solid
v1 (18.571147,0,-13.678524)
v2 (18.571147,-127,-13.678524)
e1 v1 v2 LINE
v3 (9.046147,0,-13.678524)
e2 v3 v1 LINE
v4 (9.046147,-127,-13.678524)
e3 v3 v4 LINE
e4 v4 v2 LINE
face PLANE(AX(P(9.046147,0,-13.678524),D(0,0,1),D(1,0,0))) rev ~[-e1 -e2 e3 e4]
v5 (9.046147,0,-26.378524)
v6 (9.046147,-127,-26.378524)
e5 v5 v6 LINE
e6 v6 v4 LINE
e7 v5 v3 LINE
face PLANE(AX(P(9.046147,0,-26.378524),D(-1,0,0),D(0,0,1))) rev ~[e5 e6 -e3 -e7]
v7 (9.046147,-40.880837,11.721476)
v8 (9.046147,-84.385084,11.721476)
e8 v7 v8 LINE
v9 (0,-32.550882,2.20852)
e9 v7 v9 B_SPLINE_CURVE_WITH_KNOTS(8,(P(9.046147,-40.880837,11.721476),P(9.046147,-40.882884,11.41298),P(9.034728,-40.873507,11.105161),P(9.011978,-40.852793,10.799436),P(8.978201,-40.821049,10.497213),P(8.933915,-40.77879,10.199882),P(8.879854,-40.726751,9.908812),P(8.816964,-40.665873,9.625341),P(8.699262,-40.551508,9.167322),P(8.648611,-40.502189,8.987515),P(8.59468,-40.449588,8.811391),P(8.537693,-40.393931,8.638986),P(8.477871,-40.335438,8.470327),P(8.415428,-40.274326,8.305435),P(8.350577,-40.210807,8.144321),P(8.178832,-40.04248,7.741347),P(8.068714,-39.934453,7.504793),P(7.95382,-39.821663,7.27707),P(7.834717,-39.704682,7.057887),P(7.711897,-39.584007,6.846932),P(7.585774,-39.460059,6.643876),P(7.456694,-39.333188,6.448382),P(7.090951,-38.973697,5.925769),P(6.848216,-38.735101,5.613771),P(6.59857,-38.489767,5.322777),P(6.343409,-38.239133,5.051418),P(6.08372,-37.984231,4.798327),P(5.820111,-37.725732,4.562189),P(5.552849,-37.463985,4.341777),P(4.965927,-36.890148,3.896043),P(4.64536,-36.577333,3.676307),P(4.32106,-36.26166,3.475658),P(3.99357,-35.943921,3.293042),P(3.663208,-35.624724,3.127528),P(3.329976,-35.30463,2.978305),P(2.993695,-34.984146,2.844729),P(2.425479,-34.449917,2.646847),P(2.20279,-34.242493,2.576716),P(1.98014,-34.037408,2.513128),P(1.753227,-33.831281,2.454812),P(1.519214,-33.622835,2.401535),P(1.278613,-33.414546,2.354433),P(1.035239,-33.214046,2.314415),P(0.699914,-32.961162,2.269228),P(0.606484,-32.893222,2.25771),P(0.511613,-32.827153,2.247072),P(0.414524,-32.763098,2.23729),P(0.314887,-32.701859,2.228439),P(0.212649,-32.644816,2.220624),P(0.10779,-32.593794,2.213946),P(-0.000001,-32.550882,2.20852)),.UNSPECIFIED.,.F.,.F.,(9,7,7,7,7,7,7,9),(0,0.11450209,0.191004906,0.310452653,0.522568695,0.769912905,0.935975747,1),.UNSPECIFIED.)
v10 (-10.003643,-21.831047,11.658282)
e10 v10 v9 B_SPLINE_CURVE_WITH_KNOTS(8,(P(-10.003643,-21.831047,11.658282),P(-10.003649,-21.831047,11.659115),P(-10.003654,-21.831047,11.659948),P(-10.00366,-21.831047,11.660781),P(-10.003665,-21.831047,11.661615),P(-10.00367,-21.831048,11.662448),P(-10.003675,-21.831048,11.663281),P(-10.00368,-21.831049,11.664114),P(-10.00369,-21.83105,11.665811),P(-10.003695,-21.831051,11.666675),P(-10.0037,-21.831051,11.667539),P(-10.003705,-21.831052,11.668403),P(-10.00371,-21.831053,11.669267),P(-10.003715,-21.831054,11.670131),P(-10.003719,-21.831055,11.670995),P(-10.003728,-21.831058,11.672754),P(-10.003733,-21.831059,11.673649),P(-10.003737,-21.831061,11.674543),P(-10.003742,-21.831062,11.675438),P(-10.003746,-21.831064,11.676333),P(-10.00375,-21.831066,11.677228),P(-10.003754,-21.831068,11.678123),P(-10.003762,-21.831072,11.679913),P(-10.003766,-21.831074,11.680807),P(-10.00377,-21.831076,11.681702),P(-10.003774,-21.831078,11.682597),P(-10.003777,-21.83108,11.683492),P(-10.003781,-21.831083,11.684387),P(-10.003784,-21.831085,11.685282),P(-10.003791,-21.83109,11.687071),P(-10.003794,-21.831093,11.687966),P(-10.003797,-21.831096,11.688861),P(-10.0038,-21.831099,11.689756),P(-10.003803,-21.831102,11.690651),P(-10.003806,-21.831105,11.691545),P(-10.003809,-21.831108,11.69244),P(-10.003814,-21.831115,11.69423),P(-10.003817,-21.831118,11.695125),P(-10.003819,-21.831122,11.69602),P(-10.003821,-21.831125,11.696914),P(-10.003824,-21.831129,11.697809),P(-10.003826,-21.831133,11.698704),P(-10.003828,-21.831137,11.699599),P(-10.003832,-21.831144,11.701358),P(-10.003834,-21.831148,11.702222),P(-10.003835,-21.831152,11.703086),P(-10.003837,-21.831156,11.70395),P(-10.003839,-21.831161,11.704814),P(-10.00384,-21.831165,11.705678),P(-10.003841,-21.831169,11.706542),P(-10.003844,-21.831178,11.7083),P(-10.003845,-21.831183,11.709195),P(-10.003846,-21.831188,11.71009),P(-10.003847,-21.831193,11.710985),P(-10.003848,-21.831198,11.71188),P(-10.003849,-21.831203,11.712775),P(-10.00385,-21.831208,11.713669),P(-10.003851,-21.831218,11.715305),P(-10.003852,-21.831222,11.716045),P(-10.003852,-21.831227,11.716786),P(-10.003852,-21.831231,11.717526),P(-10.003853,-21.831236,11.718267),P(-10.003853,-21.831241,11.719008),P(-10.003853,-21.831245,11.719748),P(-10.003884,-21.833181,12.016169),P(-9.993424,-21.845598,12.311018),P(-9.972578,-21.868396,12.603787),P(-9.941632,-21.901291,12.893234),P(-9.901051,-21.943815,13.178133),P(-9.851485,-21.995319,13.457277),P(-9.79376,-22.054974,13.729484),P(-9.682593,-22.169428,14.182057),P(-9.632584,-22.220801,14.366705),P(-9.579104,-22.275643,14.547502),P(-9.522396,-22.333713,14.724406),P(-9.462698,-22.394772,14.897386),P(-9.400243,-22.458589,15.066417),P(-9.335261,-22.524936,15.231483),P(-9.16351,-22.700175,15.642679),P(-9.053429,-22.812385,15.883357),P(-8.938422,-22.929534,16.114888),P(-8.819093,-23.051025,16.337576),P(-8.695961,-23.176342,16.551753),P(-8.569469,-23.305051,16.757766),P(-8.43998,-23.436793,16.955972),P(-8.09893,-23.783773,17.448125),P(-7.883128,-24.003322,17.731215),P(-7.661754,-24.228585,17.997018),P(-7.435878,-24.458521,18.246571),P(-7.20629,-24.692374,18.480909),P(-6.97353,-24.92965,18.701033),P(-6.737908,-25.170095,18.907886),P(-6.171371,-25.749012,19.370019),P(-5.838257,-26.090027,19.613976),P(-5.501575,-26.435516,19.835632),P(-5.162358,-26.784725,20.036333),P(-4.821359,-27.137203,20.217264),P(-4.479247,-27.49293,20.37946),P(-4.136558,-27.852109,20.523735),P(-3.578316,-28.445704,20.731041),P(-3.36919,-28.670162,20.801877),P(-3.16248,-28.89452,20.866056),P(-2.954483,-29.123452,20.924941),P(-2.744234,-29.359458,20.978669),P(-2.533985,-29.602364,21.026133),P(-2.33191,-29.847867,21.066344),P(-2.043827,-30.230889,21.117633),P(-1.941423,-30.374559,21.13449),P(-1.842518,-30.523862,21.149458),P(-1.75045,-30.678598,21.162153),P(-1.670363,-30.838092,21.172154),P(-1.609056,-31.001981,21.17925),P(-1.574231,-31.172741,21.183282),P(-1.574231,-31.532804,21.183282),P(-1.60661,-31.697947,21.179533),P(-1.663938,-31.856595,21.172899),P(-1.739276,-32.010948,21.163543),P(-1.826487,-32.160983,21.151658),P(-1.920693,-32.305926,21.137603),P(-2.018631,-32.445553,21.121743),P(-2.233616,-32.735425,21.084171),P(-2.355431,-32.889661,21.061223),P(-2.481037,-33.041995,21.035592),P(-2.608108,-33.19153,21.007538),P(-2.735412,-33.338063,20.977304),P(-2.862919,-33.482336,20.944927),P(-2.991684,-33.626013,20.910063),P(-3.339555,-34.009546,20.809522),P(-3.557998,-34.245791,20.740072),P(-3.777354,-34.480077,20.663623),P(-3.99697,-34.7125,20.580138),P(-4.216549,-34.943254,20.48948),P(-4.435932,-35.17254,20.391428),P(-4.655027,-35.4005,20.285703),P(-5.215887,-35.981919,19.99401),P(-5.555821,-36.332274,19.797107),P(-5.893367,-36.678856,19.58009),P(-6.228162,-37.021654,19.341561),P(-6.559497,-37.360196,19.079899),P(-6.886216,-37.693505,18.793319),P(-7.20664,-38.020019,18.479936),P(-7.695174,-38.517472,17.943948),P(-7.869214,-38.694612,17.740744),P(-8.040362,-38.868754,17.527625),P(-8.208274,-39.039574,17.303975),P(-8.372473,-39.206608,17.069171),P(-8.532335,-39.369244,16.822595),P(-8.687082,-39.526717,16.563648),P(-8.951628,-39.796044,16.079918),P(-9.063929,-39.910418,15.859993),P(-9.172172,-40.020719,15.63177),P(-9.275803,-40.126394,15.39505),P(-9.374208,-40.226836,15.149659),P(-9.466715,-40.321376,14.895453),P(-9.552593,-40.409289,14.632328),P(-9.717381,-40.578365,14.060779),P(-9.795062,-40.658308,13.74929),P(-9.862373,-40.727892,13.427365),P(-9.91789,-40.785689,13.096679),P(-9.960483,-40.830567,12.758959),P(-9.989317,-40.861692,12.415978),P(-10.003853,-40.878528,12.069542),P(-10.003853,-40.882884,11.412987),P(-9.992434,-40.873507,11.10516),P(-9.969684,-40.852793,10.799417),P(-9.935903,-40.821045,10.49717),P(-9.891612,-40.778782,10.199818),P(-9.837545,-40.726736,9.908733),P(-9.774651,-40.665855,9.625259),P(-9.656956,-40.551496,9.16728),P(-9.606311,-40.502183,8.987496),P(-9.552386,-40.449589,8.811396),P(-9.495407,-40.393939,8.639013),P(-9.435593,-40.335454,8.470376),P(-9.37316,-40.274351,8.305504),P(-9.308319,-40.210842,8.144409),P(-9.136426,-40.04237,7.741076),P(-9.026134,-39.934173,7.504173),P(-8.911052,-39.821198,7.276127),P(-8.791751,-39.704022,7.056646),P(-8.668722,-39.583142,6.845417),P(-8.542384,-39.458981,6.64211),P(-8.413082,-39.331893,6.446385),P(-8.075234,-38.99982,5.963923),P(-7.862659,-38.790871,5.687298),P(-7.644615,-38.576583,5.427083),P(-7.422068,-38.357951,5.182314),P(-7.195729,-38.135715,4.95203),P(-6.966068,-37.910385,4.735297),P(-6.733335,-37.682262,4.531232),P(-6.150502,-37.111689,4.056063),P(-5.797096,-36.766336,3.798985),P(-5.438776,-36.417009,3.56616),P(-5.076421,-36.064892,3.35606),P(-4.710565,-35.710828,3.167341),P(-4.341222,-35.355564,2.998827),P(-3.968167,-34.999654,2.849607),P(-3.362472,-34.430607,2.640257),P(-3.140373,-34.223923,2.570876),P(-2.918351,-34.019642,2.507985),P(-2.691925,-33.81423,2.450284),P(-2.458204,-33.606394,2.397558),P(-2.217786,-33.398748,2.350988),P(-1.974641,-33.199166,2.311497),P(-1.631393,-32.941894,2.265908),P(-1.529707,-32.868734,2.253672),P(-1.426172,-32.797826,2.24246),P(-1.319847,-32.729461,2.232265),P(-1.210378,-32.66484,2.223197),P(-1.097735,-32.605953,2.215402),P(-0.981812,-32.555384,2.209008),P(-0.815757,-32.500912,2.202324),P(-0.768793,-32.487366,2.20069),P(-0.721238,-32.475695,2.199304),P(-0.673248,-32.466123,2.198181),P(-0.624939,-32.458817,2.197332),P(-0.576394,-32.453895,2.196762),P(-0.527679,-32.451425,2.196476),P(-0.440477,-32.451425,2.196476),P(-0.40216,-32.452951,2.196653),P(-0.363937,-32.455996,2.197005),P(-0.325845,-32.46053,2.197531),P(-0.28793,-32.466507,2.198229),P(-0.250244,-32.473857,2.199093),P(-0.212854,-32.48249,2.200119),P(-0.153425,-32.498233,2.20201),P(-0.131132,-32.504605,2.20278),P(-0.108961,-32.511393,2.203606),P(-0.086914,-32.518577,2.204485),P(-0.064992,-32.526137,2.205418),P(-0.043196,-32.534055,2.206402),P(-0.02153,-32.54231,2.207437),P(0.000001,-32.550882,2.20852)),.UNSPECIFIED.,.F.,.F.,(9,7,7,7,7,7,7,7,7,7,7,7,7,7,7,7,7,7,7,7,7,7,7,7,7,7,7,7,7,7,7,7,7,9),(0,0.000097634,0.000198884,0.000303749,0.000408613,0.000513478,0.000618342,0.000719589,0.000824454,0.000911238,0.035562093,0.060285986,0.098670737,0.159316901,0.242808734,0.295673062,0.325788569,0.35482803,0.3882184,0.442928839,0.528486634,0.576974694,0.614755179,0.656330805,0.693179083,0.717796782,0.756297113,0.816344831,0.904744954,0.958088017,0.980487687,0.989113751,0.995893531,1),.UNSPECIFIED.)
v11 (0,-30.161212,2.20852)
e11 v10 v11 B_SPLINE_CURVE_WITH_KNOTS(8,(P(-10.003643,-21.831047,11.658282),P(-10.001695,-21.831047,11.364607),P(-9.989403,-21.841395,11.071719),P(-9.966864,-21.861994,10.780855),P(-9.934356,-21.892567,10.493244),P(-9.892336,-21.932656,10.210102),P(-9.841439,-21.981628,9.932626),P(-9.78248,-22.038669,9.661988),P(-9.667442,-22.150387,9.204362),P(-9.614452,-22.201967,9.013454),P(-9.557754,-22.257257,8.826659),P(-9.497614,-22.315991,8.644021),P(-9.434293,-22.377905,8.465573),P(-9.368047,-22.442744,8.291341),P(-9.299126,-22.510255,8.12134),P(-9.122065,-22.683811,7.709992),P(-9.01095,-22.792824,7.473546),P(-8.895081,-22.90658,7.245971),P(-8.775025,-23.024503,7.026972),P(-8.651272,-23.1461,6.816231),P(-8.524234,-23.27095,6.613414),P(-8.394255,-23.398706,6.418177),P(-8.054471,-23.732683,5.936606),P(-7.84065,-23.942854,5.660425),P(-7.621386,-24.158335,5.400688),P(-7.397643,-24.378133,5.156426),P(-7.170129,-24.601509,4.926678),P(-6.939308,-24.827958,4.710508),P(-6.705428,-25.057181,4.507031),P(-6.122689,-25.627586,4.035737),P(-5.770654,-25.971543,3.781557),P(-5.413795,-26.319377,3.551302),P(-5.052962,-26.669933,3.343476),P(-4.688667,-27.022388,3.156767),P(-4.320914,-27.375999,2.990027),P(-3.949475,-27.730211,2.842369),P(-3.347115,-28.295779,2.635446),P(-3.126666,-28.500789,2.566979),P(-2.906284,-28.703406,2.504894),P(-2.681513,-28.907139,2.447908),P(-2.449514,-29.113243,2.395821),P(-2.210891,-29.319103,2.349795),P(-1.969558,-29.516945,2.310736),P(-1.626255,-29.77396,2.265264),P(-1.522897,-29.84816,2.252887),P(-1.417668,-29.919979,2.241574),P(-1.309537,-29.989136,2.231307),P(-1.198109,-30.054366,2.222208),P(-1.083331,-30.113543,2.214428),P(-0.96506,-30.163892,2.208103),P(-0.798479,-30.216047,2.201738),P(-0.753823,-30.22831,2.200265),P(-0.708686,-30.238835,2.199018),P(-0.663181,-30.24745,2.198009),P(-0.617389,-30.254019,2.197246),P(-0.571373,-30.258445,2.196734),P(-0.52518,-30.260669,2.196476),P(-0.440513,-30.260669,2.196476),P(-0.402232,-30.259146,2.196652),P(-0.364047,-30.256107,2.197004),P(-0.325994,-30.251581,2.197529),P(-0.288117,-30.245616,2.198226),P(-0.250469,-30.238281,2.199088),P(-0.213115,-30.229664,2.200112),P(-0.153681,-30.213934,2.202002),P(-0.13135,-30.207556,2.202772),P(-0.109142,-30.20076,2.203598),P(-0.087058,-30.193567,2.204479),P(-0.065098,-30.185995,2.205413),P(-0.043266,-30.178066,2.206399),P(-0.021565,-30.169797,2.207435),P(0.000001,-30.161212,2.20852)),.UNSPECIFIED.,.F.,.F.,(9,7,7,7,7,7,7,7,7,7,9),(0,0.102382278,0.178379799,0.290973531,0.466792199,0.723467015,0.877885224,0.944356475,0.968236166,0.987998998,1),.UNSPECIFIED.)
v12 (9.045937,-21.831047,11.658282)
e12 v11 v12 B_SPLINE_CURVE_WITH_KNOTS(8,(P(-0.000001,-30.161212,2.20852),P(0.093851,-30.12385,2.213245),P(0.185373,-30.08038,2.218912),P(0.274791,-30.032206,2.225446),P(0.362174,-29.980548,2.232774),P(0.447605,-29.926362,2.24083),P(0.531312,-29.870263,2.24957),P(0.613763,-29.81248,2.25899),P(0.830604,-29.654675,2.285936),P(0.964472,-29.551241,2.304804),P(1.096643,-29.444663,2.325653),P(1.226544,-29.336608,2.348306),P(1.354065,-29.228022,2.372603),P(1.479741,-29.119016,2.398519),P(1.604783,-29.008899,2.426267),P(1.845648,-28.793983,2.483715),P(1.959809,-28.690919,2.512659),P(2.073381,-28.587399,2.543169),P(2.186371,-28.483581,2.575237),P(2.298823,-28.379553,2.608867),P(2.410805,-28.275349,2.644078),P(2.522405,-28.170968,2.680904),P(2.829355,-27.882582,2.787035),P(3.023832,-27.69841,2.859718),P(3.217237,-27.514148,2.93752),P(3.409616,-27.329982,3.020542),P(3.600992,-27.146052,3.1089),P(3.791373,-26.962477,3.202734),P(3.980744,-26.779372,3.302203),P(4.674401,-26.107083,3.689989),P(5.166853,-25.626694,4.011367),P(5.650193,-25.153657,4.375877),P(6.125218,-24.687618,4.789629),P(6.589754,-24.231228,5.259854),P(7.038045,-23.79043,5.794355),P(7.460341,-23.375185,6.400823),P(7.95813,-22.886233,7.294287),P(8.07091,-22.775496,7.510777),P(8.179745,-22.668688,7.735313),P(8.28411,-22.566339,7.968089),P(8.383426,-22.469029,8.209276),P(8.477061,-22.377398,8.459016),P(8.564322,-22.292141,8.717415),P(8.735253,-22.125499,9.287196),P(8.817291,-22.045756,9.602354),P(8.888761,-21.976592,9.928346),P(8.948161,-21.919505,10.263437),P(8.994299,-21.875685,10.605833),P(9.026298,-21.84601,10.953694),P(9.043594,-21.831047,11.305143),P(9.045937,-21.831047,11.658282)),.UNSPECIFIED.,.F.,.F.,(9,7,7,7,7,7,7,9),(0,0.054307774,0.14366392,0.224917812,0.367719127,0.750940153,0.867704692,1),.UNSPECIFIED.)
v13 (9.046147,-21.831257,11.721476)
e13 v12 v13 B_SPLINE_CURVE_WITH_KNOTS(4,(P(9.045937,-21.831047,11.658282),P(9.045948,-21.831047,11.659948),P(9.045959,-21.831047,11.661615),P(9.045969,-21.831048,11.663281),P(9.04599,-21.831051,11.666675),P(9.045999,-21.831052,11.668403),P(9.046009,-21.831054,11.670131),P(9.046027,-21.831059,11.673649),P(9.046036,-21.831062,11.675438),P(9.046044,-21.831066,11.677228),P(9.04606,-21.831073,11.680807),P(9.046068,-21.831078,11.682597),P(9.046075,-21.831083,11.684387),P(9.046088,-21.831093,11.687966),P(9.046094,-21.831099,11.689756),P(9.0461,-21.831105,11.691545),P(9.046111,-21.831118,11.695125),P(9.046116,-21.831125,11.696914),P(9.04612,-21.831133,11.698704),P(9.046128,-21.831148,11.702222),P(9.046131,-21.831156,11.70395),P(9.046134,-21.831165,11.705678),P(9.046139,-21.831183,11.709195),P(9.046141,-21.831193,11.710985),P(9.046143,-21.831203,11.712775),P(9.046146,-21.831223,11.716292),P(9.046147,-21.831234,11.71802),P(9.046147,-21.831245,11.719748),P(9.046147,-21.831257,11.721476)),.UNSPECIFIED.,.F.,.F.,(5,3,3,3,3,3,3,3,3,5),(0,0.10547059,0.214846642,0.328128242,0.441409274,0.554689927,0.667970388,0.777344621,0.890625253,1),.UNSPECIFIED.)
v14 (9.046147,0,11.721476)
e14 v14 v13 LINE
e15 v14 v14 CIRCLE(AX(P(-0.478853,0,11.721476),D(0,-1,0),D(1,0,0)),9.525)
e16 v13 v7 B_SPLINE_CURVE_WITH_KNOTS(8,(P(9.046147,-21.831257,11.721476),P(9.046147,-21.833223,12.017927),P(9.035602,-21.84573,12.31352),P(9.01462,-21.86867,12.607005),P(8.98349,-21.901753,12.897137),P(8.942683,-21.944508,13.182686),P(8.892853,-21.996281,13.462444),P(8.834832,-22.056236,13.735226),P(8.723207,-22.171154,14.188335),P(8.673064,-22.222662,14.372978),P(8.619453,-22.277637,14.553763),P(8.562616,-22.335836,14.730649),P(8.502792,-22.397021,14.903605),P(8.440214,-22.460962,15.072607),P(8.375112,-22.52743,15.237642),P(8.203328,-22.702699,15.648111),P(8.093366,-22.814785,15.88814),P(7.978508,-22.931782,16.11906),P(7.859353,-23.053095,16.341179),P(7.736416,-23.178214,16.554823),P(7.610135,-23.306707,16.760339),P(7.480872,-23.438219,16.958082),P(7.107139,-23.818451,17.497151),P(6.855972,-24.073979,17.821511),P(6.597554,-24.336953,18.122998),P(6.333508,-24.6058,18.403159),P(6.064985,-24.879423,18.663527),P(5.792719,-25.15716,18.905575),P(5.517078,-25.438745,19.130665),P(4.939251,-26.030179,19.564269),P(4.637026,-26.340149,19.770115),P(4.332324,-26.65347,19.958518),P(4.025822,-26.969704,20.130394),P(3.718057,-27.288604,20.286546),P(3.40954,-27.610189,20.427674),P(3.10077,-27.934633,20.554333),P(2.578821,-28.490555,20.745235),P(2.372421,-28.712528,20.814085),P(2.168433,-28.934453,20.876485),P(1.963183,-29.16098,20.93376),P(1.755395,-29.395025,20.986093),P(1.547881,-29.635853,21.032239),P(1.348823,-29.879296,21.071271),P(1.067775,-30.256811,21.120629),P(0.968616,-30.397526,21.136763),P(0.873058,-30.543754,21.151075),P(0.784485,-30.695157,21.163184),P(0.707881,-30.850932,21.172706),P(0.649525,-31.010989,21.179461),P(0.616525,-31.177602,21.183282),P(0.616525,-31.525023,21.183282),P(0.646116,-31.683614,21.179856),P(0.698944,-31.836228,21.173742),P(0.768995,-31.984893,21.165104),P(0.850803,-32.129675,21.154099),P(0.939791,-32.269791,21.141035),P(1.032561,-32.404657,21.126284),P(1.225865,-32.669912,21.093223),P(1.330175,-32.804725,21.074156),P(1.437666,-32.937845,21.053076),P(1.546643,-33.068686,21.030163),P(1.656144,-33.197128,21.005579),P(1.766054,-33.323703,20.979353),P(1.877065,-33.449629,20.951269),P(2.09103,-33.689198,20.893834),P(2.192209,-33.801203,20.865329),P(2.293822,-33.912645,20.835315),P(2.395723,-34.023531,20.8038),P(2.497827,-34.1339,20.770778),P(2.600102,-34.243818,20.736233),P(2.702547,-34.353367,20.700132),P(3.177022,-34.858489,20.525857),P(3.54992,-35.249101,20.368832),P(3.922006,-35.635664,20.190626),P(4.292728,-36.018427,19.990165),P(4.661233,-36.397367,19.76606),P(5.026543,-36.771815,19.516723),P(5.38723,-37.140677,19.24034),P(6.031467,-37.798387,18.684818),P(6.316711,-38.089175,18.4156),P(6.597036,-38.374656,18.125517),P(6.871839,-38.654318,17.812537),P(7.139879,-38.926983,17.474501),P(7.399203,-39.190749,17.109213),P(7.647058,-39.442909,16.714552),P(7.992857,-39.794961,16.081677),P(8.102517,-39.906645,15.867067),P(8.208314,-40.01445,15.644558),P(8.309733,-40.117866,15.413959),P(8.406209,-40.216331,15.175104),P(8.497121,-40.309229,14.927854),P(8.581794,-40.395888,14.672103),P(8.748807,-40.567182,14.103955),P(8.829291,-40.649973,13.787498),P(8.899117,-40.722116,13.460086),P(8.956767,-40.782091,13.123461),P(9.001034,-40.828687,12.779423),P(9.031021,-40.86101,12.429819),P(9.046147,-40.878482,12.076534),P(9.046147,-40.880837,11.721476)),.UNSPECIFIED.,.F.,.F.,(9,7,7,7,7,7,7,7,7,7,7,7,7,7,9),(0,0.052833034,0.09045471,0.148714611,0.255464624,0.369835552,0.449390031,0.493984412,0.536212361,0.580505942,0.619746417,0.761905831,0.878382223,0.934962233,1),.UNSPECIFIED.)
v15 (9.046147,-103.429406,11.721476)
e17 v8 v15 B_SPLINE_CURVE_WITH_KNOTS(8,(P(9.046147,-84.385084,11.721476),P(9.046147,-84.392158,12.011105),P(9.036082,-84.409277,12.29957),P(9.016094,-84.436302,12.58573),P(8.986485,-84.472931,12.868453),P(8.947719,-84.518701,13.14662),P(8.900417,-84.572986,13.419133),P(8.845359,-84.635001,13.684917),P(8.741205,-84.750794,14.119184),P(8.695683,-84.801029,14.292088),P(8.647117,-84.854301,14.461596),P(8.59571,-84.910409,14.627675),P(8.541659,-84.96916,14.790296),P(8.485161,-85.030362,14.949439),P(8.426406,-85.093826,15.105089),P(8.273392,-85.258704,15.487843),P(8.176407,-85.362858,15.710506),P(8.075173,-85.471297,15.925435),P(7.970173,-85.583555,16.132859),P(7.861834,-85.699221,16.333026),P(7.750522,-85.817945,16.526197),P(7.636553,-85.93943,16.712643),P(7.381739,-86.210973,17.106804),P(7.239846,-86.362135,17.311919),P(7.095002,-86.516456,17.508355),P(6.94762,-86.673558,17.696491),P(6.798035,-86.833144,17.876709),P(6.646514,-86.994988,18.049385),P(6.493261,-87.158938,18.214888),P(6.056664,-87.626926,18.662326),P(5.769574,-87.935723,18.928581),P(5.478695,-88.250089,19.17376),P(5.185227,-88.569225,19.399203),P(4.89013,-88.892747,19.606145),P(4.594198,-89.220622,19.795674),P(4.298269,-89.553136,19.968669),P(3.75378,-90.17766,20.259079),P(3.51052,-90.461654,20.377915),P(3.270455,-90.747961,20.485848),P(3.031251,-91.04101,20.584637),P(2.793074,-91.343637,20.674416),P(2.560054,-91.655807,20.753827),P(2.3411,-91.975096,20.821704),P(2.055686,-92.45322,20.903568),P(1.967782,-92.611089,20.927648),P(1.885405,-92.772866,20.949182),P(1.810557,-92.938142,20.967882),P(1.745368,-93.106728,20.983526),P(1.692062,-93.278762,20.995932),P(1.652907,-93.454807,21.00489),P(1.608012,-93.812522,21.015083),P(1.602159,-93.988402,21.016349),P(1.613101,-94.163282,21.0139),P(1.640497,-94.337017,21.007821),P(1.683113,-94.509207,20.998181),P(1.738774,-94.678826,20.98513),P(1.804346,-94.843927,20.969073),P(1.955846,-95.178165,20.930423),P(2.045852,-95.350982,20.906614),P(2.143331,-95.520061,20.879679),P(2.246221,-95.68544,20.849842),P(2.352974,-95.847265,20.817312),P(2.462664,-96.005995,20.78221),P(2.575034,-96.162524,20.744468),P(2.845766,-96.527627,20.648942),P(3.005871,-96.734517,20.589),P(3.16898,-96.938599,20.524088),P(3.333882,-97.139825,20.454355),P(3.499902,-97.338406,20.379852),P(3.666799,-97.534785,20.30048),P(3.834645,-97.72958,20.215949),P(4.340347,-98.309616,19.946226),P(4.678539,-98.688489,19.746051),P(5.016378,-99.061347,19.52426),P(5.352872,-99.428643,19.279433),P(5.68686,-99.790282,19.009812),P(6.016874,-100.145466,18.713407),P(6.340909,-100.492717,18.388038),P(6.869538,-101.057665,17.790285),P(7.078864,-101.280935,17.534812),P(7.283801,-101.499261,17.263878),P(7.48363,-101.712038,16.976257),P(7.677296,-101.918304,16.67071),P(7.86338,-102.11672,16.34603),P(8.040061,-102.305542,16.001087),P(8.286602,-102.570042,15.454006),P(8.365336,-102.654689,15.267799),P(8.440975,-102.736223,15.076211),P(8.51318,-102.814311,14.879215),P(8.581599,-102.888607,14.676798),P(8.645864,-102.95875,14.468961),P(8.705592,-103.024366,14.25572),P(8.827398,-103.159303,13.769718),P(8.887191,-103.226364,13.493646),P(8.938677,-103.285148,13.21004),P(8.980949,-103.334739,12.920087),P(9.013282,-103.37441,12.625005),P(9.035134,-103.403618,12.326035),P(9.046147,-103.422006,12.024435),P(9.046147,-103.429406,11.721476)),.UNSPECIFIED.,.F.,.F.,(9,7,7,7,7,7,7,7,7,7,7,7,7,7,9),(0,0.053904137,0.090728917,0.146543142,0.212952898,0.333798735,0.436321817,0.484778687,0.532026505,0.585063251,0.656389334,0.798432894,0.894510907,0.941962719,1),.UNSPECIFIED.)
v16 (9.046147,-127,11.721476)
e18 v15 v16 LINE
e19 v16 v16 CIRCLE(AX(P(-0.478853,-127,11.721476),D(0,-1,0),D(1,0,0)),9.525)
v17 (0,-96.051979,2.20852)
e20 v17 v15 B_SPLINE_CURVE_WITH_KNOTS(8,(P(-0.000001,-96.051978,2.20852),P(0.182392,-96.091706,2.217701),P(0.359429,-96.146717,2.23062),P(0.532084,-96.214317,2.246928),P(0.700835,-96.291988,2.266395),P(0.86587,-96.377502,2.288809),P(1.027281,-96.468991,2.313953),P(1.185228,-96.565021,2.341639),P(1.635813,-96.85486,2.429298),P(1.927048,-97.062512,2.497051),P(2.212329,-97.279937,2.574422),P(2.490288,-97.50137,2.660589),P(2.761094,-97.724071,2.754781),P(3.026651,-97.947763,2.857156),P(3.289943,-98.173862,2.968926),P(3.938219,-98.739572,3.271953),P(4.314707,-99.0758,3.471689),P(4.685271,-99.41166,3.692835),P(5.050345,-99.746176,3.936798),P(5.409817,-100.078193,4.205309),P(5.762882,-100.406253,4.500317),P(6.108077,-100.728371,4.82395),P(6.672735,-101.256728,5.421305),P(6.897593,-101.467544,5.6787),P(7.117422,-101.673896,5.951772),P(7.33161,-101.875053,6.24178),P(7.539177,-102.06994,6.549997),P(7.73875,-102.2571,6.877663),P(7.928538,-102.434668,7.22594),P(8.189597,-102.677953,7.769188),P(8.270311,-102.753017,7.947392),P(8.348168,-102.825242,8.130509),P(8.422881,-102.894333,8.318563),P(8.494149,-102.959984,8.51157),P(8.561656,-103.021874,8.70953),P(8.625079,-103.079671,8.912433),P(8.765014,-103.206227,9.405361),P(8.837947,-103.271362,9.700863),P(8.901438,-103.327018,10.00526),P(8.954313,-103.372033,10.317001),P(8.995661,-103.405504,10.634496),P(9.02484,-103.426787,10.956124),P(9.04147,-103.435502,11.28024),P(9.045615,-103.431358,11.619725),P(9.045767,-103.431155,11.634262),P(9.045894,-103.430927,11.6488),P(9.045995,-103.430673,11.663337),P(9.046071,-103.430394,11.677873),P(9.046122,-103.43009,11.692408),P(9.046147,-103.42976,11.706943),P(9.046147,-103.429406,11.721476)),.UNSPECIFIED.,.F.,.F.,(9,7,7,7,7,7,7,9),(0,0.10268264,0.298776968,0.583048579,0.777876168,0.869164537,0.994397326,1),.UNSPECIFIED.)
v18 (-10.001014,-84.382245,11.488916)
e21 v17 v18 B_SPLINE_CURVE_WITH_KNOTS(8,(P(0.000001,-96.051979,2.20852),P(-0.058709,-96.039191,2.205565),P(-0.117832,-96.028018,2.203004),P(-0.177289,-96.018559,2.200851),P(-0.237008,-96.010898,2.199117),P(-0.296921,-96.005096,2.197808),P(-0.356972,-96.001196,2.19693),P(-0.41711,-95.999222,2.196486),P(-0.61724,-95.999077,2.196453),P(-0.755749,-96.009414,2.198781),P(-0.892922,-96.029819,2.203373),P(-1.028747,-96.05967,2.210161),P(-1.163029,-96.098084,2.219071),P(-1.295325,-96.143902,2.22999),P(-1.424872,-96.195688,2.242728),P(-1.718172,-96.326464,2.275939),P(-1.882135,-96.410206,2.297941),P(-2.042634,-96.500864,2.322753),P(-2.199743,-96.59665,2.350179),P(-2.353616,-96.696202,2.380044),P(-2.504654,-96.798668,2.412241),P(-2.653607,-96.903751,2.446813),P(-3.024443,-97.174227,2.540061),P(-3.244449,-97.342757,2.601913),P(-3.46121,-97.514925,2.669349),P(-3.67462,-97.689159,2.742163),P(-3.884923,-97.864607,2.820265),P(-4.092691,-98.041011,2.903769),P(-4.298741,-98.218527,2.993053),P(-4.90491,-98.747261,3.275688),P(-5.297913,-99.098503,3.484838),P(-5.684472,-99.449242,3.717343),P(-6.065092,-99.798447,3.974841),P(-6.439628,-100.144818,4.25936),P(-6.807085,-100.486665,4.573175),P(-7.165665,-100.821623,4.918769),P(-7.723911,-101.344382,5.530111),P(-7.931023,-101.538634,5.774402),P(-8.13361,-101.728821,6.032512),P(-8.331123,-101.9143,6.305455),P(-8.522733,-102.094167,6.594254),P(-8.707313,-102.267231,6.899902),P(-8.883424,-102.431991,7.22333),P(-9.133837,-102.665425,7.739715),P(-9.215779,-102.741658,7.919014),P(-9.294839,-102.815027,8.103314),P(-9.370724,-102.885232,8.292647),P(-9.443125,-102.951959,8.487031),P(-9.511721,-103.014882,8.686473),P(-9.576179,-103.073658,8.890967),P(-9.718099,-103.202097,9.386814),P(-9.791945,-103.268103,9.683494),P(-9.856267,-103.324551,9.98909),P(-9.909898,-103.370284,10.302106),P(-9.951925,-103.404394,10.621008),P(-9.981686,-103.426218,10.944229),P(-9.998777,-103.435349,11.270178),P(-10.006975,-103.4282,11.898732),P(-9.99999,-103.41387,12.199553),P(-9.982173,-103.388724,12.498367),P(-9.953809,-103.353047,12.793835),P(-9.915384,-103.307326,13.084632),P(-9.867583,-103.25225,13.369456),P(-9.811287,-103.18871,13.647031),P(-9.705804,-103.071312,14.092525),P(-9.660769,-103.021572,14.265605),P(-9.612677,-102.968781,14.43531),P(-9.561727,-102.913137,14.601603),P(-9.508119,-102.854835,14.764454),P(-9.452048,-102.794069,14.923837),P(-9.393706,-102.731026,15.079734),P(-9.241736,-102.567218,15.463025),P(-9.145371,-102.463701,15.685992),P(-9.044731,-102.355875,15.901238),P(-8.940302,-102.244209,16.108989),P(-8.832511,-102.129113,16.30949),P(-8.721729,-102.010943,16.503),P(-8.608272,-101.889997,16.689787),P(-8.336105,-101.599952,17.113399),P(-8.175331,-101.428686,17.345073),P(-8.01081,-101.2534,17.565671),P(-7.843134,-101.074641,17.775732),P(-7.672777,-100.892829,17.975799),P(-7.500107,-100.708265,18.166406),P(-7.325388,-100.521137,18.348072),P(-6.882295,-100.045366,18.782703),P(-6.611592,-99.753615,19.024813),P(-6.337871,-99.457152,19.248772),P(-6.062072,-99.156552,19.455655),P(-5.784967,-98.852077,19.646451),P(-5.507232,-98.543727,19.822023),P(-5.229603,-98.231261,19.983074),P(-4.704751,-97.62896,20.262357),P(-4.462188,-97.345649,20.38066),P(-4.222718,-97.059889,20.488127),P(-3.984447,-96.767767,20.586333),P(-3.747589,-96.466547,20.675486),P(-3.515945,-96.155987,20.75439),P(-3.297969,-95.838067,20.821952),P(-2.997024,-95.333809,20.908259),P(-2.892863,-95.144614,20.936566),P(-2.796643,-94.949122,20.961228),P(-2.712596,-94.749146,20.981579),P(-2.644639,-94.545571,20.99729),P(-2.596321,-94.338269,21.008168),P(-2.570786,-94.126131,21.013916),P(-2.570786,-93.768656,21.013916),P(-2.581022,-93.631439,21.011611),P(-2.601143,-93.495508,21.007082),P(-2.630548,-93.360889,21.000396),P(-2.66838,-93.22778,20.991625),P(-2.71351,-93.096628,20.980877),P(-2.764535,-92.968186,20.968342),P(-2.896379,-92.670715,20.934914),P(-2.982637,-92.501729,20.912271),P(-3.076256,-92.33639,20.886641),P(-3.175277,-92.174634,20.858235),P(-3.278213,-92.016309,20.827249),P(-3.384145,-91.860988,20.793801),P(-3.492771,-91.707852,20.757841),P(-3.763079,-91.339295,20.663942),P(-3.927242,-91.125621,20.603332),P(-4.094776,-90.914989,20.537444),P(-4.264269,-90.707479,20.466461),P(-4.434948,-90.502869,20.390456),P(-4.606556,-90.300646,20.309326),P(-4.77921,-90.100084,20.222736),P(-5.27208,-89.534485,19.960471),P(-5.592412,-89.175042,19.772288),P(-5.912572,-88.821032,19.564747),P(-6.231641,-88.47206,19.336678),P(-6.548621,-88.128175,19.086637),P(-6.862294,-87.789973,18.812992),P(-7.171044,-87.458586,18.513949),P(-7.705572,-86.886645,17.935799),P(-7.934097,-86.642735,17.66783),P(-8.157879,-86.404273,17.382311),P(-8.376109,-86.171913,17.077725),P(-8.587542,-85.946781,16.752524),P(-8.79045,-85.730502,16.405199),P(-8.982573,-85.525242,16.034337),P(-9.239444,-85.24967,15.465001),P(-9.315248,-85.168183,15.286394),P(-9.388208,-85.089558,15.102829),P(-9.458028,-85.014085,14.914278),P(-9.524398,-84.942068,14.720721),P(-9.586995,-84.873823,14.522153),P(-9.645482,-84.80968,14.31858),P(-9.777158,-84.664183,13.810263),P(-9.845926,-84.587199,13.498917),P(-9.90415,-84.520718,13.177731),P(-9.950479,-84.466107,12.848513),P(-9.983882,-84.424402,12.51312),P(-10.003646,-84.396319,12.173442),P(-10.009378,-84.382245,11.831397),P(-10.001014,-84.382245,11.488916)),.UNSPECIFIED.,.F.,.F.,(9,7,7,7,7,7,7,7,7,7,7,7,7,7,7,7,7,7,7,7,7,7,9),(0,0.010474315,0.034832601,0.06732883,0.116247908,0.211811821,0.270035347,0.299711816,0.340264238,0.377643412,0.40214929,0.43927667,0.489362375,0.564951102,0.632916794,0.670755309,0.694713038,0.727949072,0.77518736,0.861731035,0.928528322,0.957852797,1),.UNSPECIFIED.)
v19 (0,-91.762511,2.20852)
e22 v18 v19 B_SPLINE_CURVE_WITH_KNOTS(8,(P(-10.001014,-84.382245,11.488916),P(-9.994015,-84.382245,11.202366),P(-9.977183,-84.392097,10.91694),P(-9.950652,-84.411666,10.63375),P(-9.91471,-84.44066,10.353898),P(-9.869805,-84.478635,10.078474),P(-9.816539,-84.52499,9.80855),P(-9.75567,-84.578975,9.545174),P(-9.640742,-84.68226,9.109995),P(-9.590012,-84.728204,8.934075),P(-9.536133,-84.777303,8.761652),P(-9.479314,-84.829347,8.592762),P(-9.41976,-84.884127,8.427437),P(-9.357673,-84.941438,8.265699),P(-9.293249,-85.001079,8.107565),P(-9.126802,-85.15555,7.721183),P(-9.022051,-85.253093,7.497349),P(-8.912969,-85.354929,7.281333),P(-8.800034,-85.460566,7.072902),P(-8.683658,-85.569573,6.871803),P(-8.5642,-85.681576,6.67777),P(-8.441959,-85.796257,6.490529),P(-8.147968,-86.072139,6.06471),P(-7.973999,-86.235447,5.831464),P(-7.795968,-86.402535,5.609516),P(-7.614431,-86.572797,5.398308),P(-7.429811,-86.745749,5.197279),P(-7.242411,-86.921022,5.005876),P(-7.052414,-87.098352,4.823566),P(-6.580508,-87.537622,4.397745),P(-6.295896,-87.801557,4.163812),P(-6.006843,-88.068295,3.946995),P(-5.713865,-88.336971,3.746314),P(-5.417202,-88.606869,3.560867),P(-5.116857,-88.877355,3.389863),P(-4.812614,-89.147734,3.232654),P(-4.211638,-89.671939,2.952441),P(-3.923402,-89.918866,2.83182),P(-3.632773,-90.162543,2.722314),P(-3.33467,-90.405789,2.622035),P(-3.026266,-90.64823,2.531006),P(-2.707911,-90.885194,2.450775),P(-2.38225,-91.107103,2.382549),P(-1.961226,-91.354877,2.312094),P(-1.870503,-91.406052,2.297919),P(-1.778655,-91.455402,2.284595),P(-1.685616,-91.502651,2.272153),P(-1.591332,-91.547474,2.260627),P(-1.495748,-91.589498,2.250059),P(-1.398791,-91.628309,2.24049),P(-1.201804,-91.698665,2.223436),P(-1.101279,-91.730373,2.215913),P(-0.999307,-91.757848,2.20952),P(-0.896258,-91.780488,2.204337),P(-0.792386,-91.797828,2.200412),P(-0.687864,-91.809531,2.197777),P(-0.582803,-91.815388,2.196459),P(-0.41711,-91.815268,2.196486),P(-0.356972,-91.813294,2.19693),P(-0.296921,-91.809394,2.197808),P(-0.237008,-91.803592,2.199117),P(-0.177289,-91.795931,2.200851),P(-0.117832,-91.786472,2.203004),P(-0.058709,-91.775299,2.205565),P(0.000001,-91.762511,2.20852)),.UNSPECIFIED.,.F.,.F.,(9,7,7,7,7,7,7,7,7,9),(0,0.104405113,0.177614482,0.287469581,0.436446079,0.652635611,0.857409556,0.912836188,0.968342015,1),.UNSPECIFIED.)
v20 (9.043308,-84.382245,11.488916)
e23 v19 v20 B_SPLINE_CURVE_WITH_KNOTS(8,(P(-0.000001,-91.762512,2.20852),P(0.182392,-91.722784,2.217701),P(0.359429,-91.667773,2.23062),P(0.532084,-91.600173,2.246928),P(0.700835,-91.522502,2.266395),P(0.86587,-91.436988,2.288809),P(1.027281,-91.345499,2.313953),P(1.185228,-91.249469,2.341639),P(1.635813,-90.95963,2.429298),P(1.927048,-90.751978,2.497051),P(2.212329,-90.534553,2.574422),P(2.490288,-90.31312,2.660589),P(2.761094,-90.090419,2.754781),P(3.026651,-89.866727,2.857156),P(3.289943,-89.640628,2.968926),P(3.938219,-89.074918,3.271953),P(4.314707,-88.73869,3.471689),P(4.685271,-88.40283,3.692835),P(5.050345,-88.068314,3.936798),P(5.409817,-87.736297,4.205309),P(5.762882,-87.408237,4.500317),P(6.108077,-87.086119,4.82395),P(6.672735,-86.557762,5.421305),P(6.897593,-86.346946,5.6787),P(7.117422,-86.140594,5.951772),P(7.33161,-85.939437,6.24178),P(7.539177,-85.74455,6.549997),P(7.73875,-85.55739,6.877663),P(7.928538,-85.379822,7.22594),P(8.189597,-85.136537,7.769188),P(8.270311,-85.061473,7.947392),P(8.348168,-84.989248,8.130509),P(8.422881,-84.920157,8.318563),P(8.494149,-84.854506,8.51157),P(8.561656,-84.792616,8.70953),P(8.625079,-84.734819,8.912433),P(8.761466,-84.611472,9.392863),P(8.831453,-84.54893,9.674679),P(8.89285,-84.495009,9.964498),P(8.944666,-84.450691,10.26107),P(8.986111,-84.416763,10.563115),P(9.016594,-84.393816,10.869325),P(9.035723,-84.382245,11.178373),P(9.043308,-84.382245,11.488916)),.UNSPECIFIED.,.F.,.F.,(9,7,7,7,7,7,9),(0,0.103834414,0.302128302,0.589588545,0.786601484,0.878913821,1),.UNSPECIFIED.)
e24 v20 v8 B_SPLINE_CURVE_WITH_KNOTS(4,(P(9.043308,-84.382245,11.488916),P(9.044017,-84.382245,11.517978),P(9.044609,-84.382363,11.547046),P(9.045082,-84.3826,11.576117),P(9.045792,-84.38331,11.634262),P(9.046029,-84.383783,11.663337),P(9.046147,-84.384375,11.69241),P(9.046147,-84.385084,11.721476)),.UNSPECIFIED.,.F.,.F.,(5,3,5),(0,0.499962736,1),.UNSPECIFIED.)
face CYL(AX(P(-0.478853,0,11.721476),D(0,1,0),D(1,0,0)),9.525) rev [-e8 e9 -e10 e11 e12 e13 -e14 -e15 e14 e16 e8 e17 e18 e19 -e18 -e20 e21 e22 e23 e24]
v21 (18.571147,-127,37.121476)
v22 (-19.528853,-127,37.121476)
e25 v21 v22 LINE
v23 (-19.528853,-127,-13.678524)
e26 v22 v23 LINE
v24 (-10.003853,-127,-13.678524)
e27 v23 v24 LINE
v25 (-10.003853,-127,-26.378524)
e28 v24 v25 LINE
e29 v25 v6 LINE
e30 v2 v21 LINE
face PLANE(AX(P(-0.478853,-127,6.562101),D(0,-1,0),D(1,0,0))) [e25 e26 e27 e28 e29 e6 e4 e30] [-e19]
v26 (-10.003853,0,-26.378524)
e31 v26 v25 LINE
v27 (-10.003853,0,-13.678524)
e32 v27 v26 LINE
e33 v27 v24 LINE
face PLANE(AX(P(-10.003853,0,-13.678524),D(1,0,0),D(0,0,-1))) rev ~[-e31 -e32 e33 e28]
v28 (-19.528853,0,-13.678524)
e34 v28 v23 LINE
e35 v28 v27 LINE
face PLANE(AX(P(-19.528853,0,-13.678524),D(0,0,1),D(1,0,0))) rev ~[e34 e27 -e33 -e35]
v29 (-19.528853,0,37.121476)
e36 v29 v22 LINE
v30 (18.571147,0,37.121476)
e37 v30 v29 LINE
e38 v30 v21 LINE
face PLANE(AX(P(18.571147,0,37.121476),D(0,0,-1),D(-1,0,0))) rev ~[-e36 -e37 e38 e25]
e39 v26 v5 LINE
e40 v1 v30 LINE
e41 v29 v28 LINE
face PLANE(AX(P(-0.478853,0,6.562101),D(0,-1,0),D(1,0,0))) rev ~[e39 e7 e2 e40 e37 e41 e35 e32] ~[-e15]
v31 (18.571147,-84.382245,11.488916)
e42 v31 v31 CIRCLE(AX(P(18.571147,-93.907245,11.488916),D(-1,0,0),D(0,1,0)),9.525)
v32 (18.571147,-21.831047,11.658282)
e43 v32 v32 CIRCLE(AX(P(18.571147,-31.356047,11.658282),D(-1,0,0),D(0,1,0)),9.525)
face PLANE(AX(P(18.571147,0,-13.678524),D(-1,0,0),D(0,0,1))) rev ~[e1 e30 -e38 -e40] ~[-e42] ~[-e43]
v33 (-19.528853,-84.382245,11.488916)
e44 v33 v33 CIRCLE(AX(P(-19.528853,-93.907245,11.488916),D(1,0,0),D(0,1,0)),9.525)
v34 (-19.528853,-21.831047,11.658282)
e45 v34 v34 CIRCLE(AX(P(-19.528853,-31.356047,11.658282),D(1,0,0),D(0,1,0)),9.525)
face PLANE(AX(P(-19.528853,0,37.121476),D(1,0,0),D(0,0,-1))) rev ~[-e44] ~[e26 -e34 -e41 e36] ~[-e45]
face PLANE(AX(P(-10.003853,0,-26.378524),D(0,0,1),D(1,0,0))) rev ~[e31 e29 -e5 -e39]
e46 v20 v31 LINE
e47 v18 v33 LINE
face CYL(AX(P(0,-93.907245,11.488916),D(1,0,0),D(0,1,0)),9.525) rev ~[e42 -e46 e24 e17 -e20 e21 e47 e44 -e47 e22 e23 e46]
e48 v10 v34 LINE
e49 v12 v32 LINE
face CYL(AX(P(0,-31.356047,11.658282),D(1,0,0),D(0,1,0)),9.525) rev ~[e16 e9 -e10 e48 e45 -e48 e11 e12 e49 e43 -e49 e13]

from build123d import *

# Parameters (mm, degrees)
F0_R     = 9.525
F1_DEPTH = 127
F2_R     = 9.525
F3_DEPTH = 34.798
F4_DEPTH = 22.86


with BuildPart() as f1:
    # F0 (on Front) → F1 (new body)
    with BuildSketch(Plane.XZ):
        Polygon((-10.003853, -26.378524), (9.046147, -26.378524), (9.046147, -13.678524), (18.571147, -13.678524), (18.571147, 37.121476), (-19.528853, 37.121476), (-19.528853, -13.678524), (-10.003853, -13.678524), align=None)
        with Locations((-0.478853, 11.721476)):
            Circle(F0_R, mode=Mode.SUBTRACT)
    extrude(amount=F1_DEPTH)

    # F2 (on Right) → F3 (cut)
    with BuildSketch(Plane.YZ):
        with Locations((-93.907245, 11.488916)):
            Circle(F2_R)
        with Locations((-31.356047, 11.658282)):
            Circle(F2_R)
    extrude(amount=-F3_DEPTH, mode=Mode.SUBTRACT)

    # F2 (on Right) → F4 (cut)
    with BuildSketch(Plane.YZ):
        with Locations((-93.907245, 11.488916)):
            Circle(F2_R)
        with Locations((-31.356047, 11.658282)):
            Circle(F2_R)
    extrude(amount=F4_DEPTH, mode=Mode.SUBTRACT)


solid = f1.part
